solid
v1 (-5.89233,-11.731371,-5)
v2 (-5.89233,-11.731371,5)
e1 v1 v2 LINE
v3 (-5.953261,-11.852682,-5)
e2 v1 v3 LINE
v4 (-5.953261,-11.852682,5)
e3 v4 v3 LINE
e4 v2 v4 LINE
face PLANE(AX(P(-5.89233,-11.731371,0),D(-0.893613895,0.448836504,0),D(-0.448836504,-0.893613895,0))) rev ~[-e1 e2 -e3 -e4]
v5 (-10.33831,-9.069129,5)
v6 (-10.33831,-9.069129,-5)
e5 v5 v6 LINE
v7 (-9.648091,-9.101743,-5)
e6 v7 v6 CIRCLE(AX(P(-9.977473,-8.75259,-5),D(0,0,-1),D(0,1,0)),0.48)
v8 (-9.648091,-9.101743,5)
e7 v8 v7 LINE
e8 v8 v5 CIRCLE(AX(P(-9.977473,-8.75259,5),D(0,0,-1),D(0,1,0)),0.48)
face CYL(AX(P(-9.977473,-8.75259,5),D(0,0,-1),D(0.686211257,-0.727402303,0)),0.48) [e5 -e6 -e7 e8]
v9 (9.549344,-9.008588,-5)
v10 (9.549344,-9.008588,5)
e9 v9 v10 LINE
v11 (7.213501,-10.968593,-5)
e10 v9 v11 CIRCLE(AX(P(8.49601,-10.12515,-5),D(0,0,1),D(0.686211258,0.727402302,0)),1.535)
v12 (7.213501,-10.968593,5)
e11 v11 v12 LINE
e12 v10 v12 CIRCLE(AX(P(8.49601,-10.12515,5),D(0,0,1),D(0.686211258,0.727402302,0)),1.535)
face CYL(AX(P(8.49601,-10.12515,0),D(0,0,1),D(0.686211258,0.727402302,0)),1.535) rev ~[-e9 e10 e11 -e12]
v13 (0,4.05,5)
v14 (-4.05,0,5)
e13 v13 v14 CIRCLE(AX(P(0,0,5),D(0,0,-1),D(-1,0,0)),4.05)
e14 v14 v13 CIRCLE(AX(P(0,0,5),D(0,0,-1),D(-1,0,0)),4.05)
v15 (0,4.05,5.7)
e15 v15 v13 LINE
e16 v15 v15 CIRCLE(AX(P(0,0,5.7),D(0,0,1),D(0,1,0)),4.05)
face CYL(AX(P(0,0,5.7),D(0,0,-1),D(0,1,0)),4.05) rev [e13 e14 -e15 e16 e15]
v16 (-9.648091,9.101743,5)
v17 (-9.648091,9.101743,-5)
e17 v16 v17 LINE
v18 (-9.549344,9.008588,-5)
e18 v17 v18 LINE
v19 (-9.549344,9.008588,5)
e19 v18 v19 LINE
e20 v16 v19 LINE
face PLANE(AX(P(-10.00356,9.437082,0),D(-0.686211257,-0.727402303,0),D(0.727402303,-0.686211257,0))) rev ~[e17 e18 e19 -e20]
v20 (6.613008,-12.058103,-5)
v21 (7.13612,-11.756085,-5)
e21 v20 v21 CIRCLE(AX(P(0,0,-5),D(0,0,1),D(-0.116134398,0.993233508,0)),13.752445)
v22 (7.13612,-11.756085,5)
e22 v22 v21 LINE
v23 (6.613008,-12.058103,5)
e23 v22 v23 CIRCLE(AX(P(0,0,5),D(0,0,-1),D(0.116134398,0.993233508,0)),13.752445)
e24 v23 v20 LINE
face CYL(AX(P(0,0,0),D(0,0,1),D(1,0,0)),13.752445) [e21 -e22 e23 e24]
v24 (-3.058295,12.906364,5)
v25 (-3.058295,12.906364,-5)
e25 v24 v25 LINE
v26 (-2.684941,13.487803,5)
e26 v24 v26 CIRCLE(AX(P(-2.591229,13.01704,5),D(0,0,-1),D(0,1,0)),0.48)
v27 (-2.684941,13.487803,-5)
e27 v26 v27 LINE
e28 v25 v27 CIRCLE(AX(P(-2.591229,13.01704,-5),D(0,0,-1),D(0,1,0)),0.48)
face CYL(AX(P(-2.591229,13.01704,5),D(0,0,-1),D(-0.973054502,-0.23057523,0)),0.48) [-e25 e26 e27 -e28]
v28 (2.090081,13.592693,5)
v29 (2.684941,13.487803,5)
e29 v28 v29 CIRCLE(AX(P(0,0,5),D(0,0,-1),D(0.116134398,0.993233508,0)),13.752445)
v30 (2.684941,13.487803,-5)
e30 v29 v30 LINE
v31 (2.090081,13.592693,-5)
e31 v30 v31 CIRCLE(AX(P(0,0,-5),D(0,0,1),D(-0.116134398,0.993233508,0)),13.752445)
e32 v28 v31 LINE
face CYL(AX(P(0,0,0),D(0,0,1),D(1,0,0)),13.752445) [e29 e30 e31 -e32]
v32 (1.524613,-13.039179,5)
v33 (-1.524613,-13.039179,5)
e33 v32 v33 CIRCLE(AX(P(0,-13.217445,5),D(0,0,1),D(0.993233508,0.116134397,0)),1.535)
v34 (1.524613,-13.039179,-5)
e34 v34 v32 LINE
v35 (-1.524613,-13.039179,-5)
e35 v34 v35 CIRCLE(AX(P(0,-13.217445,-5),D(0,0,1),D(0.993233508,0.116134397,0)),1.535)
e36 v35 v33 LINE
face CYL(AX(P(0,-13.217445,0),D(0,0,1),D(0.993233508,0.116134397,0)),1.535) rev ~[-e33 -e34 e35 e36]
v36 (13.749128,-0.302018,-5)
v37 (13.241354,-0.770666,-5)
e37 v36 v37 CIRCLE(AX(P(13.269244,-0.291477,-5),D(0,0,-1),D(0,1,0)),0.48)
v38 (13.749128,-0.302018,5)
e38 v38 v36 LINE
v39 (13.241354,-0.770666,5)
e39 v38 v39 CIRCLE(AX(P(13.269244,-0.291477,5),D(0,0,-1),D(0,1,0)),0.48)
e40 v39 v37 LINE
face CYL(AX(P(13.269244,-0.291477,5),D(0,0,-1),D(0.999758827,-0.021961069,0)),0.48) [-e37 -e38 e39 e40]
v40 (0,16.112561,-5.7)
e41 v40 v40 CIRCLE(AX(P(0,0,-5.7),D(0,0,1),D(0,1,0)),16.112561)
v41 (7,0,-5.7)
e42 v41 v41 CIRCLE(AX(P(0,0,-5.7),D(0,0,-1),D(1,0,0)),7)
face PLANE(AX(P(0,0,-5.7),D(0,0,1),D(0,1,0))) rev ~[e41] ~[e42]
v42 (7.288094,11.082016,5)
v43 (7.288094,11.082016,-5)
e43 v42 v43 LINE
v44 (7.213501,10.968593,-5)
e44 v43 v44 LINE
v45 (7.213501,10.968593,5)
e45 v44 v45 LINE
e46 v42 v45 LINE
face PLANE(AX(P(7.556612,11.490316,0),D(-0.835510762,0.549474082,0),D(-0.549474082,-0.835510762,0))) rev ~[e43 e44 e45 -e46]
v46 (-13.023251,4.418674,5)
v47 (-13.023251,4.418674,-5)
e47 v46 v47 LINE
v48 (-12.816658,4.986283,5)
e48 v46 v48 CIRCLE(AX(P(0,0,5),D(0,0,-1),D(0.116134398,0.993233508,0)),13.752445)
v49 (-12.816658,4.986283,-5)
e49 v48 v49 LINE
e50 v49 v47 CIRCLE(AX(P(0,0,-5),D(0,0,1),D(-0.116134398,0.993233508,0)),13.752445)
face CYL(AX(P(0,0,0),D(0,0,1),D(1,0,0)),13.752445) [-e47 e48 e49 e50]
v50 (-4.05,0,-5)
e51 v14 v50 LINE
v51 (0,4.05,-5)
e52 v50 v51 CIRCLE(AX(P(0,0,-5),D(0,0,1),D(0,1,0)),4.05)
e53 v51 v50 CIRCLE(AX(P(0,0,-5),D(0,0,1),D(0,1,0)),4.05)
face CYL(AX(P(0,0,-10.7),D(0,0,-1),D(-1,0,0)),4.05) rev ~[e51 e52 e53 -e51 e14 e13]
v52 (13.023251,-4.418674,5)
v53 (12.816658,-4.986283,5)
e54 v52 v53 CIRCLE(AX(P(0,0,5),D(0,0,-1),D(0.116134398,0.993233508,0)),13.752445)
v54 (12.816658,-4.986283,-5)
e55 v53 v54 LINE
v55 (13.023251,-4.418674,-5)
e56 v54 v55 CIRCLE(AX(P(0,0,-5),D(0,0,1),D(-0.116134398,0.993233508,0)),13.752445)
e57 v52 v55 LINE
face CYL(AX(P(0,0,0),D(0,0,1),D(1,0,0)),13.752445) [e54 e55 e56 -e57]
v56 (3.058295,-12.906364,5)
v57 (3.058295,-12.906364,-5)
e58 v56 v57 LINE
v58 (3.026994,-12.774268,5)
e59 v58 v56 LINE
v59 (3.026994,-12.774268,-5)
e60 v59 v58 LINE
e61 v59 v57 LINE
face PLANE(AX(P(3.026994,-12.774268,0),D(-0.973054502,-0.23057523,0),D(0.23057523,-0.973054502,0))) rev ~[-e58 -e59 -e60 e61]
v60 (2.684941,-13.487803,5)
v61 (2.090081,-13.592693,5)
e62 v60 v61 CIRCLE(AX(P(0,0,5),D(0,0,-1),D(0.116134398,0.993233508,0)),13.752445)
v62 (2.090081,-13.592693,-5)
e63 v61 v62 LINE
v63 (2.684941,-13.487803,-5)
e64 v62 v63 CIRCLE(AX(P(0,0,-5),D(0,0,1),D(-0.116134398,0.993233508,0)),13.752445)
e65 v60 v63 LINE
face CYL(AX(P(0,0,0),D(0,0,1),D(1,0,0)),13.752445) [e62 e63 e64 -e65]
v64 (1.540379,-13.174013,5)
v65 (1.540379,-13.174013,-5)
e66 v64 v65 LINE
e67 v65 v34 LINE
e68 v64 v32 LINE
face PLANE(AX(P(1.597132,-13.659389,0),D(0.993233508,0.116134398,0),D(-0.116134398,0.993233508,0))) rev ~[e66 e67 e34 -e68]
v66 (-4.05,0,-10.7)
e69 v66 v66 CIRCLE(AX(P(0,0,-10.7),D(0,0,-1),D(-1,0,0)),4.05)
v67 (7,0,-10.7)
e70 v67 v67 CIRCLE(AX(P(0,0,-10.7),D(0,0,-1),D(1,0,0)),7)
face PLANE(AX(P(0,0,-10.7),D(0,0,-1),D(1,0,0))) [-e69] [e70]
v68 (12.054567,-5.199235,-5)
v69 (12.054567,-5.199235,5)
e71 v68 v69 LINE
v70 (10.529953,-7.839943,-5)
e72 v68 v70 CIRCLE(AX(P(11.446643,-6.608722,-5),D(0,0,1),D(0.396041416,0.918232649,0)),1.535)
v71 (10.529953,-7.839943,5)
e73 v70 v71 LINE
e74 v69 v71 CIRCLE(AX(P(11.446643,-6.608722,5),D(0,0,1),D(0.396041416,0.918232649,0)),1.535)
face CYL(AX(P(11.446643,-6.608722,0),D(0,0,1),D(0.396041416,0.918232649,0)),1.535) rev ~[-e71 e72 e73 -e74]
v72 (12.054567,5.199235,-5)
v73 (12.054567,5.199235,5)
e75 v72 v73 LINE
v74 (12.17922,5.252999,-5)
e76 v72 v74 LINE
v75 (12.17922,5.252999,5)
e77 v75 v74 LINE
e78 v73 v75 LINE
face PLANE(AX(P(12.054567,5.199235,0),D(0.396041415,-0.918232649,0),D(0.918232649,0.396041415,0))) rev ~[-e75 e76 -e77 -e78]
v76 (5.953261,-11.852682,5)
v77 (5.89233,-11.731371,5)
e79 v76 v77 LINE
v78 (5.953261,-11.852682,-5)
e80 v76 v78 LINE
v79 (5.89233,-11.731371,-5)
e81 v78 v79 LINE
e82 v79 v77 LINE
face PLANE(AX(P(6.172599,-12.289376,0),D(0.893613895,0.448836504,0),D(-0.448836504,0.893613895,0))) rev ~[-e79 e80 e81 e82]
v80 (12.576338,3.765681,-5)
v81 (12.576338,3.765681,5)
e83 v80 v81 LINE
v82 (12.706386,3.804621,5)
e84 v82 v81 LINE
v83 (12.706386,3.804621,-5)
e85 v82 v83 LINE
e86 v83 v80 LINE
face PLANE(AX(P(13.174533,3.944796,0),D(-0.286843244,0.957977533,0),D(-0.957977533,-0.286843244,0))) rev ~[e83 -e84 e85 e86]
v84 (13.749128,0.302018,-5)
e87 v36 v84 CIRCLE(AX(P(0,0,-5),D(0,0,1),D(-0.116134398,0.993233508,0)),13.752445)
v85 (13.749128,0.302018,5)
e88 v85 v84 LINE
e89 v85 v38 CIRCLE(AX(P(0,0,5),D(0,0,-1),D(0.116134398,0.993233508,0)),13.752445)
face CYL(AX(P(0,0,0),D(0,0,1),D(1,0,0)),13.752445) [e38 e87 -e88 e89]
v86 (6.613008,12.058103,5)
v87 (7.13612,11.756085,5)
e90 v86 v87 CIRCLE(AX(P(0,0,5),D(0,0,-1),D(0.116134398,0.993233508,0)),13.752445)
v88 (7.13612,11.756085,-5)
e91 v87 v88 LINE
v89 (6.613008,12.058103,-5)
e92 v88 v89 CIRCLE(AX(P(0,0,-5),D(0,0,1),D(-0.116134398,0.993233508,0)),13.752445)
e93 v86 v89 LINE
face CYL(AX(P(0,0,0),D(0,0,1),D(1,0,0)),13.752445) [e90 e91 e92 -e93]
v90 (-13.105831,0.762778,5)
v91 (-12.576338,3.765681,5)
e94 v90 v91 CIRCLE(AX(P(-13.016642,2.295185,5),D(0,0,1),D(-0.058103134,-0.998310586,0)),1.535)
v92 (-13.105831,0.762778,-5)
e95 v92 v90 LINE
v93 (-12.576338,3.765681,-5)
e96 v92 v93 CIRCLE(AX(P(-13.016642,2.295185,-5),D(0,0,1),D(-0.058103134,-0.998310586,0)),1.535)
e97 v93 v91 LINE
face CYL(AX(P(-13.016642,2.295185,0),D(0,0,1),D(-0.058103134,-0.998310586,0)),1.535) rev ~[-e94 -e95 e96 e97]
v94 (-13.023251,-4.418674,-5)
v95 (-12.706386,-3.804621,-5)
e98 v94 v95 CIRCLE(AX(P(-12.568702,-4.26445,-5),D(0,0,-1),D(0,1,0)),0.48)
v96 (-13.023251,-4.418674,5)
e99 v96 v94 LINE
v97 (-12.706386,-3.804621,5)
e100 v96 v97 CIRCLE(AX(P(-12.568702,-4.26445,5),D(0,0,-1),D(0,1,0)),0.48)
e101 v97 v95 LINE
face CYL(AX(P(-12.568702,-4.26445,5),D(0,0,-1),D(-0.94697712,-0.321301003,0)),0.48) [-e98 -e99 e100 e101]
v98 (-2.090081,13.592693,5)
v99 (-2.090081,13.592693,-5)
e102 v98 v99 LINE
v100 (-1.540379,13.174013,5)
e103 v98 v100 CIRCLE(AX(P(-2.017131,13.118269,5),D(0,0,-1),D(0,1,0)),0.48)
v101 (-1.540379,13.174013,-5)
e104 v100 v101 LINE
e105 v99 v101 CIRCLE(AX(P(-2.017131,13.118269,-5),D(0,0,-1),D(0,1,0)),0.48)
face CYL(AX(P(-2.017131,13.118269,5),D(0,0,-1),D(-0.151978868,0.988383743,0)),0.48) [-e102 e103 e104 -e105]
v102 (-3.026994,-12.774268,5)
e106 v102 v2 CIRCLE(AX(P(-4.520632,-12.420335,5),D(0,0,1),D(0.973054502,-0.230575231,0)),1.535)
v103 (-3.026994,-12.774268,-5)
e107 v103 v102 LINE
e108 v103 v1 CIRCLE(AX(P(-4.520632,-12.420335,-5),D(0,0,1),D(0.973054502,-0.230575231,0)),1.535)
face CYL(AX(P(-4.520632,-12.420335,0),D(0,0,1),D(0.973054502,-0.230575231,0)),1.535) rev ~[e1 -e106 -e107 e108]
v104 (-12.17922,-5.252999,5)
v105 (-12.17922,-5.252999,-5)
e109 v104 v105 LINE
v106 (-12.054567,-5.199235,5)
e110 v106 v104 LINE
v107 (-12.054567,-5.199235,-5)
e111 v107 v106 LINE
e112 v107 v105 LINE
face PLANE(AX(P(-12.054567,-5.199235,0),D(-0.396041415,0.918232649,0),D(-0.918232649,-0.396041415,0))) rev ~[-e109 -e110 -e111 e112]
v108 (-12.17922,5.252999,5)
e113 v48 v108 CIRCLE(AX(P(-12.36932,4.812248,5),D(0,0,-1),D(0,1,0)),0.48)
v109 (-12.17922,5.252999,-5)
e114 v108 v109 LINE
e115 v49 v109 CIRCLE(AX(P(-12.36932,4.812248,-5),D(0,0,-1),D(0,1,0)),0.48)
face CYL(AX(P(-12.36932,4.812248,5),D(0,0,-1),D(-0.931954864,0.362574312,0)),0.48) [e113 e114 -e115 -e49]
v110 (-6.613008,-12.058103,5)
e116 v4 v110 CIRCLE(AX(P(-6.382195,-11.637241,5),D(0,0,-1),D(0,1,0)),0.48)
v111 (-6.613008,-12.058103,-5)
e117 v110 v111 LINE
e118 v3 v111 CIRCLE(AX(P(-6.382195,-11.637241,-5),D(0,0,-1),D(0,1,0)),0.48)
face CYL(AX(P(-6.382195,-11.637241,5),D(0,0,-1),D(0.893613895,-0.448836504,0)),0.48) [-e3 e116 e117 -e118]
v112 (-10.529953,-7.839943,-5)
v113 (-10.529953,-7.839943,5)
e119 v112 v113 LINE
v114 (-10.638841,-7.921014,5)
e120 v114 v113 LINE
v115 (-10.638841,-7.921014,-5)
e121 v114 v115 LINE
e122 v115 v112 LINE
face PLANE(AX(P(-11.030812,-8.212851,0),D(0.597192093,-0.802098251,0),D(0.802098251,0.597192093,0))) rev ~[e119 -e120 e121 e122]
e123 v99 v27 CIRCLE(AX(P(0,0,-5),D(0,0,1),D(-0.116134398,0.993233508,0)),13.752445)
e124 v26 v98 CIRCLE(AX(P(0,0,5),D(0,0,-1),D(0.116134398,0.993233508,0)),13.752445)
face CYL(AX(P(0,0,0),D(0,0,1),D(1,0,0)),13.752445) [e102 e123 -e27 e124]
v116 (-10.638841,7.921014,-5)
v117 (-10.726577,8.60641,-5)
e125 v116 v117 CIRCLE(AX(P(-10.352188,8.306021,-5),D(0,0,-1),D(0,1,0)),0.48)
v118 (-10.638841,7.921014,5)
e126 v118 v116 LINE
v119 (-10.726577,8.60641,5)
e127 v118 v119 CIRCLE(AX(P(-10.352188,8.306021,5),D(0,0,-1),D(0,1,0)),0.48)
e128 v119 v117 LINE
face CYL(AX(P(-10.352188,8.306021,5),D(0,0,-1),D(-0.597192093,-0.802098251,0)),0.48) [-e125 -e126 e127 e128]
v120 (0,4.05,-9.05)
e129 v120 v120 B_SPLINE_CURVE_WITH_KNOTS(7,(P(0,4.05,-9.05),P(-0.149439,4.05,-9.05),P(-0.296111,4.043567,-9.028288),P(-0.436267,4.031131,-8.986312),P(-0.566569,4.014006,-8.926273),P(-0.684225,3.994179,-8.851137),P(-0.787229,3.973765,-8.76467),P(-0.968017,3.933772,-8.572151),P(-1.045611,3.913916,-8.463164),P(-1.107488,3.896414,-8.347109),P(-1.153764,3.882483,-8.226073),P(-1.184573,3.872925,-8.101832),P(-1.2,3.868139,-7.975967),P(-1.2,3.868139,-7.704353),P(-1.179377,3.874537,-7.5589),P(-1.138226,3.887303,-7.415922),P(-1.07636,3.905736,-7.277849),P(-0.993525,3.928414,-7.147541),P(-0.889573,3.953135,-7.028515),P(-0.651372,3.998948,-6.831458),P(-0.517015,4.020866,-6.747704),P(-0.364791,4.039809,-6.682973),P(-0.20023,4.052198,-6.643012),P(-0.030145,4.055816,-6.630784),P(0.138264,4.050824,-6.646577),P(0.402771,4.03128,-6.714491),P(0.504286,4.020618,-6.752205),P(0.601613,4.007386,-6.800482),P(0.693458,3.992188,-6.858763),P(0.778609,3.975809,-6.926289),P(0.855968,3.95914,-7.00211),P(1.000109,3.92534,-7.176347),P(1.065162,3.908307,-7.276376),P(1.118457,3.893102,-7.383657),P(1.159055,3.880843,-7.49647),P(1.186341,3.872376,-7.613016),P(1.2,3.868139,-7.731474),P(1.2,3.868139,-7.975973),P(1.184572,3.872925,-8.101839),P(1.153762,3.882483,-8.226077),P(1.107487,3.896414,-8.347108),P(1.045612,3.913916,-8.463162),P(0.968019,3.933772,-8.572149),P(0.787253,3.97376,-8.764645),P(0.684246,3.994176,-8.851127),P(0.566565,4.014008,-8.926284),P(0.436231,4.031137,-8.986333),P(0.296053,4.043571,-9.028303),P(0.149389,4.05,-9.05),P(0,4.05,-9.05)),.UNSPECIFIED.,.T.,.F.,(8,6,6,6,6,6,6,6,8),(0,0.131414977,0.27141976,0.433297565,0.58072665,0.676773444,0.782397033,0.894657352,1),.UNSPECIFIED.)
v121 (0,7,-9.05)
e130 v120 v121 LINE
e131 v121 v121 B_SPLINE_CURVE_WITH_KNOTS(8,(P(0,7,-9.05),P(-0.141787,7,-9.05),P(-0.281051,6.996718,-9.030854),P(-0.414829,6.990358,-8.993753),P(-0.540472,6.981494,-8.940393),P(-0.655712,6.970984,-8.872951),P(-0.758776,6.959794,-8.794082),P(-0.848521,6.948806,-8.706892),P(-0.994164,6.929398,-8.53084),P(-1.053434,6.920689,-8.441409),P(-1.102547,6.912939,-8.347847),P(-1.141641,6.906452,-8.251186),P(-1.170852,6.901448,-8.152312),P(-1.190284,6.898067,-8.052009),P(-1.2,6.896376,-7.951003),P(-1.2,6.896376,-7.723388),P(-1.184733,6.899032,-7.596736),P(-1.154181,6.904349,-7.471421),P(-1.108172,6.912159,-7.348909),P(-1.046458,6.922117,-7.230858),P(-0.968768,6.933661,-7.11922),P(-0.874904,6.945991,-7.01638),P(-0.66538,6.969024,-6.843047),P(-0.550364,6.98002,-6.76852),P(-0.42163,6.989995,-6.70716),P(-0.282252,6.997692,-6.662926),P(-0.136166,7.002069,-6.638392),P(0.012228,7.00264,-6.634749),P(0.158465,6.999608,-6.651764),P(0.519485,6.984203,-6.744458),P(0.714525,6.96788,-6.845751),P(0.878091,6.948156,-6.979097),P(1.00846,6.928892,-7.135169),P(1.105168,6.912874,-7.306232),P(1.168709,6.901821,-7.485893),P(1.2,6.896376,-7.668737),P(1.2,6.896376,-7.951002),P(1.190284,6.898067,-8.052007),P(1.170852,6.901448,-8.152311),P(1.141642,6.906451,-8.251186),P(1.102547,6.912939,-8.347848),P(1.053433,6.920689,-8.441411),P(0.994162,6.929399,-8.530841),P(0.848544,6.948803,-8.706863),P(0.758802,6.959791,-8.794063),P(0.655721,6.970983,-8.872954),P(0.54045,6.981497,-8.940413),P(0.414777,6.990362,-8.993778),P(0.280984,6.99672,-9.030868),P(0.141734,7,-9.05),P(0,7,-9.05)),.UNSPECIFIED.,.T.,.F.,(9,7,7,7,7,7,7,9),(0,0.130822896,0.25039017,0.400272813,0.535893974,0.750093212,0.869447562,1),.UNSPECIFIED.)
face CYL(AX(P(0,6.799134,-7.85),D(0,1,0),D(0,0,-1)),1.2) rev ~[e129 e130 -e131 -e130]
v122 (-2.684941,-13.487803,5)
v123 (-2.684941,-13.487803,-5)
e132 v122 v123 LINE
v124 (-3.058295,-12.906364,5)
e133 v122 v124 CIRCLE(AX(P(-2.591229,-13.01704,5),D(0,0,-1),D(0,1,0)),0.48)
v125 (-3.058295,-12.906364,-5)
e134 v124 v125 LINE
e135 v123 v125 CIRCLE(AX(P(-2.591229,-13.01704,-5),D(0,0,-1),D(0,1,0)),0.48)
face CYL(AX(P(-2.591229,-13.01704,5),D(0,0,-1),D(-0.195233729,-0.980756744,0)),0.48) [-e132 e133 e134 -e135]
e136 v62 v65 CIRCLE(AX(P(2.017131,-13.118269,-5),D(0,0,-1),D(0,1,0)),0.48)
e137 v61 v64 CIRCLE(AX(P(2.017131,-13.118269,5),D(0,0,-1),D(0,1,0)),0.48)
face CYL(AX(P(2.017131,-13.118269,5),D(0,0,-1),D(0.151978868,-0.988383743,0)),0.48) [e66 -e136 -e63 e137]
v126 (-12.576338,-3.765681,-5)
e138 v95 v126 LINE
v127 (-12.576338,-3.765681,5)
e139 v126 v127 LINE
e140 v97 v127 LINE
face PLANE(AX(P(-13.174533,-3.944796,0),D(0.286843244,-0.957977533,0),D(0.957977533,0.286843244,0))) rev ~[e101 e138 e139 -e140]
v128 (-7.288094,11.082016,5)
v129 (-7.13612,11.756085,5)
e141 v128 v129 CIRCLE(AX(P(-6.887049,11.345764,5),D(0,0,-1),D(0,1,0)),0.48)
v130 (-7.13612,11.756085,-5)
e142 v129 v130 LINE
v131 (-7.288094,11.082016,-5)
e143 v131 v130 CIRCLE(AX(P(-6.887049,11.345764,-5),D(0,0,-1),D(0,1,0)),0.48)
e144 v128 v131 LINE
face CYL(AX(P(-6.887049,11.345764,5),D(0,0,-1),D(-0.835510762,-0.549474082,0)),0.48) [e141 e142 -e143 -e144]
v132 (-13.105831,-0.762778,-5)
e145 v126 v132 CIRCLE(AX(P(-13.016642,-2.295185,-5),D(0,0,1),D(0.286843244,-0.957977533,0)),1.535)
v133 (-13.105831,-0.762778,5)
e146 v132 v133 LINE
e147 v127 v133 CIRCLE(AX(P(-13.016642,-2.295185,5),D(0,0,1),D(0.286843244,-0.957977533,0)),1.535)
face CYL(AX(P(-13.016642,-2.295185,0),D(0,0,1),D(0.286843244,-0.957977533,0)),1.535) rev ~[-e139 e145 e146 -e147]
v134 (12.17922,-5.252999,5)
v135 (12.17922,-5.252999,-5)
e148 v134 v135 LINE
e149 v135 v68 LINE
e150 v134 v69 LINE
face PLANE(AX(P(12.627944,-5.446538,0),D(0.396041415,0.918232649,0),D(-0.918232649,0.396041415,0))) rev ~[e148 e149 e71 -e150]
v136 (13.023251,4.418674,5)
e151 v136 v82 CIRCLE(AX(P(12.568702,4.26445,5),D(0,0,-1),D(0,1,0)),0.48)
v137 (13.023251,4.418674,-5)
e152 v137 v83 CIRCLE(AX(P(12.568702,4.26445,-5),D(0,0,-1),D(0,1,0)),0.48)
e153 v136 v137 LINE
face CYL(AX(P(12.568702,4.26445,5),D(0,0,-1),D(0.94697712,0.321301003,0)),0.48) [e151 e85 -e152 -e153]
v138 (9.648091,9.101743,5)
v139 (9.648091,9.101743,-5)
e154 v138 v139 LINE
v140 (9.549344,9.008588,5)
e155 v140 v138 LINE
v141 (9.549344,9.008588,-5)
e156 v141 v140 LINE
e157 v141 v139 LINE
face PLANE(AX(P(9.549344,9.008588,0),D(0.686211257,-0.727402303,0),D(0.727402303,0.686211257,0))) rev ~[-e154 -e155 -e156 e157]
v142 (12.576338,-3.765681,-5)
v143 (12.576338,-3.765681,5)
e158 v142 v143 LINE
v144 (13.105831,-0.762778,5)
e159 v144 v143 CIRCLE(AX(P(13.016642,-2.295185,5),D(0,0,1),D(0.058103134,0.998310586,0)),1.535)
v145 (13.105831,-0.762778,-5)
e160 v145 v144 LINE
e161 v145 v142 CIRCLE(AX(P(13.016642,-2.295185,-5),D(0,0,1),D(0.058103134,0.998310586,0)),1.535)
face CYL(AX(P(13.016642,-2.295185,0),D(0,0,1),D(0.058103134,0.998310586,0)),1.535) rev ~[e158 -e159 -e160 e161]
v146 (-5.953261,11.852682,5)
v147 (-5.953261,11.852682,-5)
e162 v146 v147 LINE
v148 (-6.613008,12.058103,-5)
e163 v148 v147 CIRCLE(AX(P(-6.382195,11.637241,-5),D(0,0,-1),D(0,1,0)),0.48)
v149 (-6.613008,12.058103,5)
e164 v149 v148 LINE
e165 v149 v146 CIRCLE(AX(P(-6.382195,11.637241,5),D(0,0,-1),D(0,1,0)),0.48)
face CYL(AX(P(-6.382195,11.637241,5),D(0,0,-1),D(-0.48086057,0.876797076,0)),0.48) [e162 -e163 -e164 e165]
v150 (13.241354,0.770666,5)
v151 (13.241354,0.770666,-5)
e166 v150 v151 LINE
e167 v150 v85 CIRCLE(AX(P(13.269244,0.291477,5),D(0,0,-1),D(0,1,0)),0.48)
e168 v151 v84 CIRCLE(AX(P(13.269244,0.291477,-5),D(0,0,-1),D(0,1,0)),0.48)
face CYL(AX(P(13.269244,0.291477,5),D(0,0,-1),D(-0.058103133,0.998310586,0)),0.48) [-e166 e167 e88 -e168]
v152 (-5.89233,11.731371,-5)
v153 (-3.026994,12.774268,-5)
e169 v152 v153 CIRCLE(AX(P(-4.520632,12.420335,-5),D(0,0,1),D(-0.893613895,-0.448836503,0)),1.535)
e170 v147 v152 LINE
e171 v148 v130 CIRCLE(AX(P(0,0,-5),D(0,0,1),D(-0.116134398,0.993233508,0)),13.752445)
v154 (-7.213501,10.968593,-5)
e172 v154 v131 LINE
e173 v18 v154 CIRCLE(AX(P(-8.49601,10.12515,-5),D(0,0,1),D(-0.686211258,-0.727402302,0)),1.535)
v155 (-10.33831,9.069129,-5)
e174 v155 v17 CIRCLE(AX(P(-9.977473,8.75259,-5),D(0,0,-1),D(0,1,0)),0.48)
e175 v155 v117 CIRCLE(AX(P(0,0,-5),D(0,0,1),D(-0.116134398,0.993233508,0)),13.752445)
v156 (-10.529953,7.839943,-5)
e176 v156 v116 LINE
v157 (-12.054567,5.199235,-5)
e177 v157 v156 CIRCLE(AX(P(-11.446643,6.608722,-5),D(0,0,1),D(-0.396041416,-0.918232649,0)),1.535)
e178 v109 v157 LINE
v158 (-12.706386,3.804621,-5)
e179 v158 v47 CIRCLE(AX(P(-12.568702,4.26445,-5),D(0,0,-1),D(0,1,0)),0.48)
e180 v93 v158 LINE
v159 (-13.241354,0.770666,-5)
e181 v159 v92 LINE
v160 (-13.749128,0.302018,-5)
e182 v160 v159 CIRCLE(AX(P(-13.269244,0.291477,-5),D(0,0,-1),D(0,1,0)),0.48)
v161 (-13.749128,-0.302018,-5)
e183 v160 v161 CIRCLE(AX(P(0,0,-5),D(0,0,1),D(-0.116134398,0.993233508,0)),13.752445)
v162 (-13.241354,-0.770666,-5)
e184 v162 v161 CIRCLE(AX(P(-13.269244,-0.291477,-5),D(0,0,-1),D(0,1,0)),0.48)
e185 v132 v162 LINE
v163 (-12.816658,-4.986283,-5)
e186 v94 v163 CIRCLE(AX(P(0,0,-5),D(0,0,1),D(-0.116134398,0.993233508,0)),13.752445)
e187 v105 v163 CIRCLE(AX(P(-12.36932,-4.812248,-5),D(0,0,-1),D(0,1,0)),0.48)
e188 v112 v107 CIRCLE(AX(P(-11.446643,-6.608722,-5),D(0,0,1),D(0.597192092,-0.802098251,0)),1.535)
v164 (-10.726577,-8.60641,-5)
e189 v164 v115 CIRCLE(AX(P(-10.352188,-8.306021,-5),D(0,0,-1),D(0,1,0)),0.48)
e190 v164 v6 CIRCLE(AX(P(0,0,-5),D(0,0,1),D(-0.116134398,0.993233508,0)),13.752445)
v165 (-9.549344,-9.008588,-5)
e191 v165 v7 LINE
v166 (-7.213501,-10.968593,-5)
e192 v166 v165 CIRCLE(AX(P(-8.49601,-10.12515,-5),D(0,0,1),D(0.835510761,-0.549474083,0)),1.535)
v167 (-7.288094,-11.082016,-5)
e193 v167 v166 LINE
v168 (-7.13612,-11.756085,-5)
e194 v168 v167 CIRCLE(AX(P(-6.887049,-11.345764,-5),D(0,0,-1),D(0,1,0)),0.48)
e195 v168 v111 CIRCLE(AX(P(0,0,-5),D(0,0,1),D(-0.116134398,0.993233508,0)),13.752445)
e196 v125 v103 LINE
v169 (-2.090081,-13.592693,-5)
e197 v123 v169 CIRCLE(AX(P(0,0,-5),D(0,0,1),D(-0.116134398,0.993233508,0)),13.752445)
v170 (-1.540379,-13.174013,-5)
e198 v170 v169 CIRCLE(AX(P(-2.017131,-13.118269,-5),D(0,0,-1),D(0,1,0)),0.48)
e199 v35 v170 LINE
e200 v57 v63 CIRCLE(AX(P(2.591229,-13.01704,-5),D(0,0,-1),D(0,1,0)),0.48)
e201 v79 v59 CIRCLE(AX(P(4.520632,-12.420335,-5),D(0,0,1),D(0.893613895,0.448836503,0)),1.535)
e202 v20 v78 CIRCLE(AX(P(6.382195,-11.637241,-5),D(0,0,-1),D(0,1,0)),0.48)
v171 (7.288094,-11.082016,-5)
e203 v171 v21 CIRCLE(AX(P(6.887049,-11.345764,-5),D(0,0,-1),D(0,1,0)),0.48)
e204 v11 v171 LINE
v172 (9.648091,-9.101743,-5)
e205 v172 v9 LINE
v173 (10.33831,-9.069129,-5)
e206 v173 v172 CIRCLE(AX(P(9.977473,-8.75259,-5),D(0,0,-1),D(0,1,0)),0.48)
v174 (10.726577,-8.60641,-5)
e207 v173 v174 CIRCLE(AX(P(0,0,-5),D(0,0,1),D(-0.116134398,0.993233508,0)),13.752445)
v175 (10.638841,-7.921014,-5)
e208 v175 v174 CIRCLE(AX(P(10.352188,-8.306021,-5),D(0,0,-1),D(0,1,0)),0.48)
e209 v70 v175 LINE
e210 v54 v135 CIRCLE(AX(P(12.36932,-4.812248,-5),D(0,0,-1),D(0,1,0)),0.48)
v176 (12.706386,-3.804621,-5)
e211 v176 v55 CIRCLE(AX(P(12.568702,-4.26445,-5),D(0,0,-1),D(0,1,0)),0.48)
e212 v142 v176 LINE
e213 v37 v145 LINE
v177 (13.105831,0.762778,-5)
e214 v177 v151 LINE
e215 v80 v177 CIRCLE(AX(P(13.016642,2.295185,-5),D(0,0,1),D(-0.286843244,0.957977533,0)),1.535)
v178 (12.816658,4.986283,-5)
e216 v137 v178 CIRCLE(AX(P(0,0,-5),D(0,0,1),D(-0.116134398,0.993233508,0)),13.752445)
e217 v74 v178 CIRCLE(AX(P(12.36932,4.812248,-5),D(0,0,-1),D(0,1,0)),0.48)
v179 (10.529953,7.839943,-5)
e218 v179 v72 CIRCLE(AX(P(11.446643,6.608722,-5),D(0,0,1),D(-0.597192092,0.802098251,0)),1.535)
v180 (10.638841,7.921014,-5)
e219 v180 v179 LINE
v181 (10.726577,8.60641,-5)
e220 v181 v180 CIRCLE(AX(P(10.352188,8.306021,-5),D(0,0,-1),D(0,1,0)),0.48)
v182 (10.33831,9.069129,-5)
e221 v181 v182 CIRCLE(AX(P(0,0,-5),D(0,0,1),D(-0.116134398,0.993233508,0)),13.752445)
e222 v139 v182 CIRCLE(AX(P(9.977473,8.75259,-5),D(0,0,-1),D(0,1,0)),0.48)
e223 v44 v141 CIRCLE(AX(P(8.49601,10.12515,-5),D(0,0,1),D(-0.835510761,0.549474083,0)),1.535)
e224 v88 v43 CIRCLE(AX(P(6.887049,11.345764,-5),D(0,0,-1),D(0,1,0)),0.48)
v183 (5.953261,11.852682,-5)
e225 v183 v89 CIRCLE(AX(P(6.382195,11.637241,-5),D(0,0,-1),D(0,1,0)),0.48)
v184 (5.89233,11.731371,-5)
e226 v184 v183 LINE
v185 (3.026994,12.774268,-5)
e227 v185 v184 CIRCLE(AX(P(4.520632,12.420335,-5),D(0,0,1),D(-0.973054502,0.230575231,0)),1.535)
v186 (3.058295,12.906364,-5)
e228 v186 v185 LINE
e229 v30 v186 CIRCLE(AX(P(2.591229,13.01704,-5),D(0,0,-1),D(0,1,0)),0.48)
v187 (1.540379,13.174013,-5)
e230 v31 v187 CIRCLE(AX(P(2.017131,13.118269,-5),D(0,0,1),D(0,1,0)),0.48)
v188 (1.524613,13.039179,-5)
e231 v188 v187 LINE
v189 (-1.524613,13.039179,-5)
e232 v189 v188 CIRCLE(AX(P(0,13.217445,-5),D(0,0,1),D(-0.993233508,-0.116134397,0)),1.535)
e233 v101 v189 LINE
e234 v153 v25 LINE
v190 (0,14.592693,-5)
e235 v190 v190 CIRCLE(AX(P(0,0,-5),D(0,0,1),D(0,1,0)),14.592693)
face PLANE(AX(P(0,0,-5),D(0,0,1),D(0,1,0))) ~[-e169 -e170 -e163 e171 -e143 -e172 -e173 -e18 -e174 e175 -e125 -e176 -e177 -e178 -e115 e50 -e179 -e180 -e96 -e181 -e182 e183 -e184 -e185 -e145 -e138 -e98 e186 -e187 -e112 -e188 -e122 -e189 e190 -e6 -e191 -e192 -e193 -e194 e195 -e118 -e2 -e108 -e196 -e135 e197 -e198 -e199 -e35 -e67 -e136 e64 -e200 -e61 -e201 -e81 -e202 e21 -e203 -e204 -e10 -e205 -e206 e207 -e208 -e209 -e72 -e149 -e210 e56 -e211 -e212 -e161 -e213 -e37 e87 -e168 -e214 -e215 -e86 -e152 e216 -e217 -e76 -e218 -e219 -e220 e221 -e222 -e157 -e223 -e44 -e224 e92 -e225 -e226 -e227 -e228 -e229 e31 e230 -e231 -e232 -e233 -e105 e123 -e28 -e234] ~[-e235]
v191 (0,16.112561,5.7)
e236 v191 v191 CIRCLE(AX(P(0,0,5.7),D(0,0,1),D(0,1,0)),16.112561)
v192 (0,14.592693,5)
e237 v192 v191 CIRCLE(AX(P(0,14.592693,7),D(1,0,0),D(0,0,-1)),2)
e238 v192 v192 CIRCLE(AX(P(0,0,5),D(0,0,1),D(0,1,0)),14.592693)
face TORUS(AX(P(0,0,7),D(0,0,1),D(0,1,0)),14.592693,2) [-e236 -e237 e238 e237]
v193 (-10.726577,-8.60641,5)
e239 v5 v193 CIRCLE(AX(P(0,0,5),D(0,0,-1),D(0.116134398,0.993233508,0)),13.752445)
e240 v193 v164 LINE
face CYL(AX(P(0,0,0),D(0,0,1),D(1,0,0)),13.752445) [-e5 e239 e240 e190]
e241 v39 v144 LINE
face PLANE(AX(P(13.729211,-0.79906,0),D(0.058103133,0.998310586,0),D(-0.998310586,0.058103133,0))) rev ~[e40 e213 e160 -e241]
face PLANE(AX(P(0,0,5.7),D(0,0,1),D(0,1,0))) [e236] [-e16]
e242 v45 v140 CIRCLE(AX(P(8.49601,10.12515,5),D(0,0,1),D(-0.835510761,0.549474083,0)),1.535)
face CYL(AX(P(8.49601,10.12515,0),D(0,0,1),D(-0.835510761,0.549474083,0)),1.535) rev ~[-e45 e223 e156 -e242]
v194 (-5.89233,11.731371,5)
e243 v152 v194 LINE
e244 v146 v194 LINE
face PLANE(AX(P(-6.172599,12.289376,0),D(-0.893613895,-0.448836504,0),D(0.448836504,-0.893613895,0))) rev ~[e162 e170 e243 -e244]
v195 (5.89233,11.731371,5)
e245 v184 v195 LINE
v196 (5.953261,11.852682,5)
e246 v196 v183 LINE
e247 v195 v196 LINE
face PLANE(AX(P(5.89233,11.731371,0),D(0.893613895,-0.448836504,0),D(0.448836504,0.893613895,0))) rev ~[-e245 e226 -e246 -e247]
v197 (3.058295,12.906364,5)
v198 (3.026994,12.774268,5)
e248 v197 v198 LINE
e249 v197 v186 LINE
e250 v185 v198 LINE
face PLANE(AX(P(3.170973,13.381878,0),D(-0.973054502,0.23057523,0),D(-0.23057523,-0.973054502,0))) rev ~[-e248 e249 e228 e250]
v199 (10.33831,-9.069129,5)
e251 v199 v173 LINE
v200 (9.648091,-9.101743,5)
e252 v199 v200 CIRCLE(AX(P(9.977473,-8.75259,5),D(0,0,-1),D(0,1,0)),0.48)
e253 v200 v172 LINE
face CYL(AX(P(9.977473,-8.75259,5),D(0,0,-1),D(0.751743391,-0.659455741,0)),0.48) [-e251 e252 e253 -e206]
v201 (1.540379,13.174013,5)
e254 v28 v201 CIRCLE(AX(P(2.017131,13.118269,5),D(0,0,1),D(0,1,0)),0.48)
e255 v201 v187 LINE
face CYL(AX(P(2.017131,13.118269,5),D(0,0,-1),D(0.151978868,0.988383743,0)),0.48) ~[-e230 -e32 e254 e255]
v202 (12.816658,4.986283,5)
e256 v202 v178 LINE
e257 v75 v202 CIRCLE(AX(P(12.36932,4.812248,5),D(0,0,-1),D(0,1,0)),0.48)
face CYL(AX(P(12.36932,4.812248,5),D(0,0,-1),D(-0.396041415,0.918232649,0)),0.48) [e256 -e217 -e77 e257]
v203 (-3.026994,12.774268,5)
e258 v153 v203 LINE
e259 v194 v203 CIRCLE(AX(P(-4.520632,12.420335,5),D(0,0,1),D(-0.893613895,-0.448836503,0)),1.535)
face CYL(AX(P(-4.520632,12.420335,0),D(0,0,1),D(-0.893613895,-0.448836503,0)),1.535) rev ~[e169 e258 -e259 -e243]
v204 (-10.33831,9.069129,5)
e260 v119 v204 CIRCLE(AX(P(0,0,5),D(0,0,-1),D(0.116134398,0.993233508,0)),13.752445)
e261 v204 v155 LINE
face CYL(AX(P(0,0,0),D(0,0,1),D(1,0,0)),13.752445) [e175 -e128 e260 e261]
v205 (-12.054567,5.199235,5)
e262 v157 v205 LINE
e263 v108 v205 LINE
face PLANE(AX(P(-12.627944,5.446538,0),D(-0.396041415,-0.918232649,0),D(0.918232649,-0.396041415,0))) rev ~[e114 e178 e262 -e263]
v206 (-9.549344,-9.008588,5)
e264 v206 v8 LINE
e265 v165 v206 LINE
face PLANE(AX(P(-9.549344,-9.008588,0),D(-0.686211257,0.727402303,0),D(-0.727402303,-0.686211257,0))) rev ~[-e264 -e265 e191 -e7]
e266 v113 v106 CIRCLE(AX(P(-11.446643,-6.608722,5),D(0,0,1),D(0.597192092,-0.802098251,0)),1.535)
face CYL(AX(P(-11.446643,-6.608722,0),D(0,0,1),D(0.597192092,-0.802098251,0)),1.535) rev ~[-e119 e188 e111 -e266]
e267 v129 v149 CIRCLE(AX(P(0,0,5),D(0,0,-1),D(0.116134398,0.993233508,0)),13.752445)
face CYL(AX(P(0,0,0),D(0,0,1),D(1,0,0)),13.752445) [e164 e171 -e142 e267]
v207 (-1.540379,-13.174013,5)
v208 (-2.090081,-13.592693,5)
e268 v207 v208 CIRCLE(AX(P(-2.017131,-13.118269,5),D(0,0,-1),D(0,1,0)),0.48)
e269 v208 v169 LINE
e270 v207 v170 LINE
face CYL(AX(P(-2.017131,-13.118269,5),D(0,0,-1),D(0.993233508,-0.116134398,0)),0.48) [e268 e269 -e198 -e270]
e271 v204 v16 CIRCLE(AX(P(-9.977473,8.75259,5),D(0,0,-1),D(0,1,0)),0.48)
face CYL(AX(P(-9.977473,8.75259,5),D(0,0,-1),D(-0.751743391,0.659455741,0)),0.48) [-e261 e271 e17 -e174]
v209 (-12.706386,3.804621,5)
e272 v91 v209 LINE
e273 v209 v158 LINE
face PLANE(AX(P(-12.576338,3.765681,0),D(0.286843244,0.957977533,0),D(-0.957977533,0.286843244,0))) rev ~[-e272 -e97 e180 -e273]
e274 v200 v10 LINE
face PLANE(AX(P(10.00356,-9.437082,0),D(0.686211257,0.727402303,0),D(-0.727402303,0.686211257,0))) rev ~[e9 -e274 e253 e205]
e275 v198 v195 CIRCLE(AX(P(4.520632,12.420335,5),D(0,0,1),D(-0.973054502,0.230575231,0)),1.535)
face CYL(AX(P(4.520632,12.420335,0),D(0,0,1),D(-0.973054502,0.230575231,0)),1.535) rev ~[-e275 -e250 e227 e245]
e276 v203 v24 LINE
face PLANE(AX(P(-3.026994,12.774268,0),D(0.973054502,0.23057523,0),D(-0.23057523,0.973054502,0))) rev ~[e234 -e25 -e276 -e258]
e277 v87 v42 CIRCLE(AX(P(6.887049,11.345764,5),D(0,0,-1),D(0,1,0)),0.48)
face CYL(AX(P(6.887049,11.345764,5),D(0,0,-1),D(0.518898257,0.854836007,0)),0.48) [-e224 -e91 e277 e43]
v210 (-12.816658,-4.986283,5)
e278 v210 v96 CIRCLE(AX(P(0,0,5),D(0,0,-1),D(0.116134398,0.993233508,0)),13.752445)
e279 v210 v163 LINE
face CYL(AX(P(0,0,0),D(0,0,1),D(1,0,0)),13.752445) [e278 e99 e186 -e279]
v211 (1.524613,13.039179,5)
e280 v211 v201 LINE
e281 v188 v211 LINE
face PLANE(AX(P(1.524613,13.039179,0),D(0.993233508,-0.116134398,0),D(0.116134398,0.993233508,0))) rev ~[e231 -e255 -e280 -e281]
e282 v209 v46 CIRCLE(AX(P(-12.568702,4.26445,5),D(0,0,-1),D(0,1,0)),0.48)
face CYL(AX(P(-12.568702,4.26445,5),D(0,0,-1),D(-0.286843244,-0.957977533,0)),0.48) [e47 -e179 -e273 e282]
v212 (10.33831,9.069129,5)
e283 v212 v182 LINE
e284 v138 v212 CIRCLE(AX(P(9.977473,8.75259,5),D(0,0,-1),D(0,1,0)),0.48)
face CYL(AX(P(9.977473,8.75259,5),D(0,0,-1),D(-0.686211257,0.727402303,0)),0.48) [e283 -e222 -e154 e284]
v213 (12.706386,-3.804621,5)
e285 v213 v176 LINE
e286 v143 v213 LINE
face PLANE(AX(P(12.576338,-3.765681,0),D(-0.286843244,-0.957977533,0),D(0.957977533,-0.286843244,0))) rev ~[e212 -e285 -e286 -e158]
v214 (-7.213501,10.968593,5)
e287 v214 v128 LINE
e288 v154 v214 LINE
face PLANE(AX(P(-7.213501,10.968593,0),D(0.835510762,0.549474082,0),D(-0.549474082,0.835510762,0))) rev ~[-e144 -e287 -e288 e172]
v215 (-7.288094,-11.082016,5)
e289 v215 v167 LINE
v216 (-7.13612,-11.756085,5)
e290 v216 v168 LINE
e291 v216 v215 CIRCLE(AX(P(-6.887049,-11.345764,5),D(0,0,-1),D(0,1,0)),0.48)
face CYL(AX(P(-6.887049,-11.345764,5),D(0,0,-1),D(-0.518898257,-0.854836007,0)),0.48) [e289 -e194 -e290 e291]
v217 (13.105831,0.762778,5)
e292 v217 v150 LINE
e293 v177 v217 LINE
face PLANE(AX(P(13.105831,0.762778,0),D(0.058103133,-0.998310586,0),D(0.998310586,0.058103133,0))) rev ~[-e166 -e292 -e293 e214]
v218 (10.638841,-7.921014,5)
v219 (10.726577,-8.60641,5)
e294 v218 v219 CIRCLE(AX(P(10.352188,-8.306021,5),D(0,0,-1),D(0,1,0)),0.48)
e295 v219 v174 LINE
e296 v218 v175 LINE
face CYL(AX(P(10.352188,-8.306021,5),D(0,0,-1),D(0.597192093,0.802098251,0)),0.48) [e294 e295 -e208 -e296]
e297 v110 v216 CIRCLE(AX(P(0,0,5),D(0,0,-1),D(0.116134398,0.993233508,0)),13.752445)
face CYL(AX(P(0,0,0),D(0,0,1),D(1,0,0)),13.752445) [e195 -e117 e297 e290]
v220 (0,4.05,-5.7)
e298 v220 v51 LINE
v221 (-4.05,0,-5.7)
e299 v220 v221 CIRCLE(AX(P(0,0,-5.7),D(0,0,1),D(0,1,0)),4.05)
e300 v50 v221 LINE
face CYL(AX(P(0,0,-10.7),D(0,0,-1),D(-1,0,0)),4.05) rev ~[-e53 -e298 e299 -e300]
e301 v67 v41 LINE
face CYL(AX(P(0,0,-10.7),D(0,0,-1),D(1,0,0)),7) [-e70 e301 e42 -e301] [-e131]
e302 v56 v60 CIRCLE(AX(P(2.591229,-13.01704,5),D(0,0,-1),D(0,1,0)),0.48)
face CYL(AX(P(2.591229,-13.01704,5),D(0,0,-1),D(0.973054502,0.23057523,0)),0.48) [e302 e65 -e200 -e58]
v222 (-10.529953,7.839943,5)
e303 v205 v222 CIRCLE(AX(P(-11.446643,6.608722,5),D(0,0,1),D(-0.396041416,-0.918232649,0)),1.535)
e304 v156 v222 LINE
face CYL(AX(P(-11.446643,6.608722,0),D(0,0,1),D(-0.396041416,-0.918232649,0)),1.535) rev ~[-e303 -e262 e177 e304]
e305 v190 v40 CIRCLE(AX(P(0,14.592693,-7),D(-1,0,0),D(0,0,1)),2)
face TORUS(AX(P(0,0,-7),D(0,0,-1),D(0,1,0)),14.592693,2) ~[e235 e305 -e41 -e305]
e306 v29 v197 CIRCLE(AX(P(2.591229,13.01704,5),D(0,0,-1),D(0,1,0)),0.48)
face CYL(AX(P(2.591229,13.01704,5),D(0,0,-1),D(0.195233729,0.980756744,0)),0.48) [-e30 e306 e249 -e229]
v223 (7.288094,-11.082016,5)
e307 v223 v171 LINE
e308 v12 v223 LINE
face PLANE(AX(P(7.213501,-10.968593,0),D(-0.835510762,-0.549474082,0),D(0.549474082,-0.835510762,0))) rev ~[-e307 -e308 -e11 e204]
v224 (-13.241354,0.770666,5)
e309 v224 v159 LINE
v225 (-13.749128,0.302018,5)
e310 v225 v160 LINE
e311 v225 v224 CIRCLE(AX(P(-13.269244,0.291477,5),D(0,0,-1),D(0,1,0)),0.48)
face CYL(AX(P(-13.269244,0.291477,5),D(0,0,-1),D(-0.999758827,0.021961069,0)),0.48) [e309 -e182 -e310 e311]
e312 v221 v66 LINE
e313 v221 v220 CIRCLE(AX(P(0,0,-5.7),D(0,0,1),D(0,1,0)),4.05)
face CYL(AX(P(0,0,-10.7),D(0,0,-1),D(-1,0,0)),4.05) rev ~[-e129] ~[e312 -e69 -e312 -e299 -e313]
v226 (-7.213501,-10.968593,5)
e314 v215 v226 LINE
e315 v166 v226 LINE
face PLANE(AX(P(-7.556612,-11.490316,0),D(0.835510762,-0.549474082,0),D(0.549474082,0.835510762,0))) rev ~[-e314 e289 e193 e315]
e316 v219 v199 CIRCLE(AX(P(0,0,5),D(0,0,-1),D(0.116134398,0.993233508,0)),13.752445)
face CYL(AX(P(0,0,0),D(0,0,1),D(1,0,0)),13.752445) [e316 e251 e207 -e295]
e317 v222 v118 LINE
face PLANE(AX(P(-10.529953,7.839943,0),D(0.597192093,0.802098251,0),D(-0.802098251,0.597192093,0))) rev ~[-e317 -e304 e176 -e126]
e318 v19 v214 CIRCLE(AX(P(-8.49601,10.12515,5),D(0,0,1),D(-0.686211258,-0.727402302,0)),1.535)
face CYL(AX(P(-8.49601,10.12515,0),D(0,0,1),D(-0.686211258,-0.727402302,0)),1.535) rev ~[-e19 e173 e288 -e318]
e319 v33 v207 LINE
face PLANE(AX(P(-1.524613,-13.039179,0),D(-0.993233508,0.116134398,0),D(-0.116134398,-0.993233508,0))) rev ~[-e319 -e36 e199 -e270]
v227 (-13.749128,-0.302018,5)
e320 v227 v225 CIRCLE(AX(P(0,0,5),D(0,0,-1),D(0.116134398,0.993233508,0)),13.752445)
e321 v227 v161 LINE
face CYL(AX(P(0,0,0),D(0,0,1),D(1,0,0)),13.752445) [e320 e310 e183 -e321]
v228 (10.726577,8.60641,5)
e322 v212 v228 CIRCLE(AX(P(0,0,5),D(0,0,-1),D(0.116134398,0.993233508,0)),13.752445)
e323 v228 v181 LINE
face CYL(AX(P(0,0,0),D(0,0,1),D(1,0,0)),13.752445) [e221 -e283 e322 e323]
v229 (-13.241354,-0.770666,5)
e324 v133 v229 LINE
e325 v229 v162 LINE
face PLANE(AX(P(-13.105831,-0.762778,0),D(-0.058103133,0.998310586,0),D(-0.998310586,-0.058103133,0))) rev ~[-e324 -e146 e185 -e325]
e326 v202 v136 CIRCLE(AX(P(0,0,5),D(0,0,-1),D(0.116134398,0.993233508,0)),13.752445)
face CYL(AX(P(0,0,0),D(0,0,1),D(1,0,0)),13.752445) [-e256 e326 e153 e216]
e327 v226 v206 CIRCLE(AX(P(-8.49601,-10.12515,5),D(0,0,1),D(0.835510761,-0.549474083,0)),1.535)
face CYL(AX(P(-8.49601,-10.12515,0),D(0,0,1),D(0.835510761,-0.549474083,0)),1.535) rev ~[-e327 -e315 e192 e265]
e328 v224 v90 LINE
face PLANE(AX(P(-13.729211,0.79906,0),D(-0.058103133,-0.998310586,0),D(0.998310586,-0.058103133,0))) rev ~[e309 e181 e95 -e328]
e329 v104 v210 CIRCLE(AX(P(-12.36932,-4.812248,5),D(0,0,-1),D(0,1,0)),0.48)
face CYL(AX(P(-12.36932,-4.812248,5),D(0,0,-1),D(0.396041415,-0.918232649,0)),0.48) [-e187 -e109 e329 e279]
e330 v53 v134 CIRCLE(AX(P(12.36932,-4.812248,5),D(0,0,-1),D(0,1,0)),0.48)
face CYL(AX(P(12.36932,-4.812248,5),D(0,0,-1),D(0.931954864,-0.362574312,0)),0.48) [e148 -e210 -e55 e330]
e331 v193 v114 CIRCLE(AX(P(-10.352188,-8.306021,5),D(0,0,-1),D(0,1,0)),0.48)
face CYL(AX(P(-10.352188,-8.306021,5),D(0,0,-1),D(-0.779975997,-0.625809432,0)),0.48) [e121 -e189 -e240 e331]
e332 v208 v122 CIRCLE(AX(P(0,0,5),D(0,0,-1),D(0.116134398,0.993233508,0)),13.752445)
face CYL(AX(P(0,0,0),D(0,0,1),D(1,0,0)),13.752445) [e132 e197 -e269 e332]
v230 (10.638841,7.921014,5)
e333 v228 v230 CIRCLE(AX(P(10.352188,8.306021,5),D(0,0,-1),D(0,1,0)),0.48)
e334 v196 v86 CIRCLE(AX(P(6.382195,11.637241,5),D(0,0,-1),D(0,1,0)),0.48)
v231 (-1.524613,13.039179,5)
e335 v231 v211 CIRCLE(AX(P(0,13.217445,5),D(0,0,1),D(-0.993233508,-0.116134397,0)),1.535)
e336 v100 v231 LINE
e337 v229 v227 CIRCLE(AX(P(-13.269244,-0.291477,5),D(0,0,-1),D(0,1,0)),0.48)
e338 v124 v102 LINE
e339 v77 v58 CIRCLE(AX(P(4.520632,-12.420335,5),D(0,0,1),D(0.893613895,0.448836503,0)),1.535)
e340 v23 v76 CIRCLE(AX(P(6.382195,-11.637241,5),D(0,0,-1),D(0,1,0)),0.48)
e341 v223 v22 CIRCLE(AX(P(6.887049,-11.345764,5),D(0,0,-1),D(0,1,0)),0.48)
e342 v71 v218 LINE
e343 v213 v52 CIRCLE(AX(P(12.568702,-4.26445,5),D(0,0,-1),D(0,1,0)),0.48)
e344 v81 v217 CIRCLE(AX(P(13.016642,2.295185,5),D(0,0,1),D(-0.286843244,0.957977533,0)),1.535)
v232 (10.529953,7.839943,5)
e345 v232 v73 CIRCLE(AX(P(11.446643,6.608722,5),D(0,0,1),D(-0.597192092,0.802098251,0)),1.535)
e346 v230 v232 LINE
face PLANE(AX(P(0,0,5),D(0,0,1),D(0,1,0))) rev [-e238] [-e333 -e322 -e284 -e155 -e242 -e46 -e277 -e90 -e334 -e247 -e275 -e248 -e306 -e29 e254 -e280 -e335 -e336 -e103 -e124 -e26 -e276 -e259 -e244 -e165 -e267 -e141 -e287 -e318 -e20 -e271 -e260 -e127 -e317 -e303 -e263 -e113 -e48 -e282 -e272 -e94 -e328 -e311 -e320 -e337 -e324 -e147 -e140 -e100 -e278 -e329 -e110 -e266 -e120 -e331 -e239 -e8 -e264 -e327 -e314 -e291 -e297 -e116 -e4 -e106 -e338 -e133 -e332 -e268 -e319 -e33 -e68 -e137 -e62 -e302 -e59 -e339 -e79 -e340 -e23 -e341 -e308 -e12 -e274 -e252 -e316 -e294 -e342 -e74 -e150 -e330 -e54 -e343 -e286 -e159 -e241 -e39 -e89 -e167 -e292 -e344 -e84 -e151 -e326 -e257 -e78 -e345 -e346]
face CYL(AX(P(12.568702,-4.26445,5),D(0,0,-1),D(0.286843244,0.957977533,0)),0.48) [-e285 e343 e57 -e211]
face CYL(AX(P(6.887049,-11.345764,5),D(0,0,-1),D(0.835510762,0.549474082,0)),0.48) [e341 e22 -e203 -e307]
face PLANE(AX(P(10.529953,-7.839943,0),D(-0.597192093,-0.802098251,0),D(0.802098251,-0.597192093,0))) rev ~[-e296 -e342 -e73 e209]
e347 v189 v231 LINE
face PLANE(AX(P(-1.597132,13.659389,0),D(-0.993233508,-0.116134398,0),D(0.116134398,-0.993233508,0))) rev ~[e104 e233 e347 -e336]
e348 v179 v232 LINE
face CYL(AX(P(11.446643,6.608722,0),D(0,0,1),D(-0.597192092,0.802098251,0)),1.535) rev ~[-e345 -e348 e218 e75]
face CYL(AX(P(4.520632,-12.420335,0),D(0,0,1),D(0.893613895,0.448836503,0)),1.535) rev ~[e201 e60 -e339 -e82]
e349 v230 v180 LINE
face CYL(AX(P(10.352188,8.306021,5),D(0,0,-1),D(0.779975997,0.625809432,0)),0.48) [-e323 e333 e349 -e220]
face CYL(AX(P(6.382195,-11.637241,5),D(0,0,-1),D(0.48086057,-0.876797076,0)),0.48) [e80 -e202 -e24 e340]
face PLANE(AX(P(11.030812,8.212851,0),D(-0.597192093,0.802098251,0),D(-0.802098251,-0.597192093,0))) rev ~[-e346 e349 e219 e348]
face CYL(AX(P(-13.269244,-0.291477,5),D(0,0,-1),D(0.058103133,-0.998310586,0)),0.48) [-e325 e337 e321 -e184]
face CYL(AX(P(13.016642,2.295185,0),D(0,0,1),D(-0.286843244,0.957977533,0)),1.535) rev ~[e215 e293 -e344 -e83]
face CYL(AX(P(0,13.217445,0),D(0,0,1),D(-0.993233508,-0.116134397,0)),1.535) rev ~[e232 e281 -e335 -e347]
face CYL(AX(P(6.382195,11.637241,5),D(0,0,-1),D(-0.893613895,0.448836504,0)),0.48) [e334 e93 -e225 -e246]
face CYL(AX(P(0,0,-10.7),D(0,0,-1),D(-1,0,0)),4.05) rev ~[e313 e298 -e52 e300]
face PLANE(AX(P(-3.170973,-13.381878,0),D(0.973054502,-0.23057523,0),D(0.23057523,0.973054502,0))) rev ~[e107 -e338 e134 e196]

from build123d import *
from build123d.topology import SkipClean

# Parameters (mm, degrees)
SKETCH_3_R                       = 13.752444878
EXTRUDE_2_DEPTH                  = 5
CUT_EXTRUDE_2_DEPTH              = 21.081321676
FILLET_1_R                       = 0.48
PATTERN_CIRCULAR_1_COUNT         = 18
FILLET_1_OF_PATTERN_CIRCULAR_1_R = 0.48
SKETCH_4_R                       = 4.05
CUT_EXTRUDE_3_DEPTH              = 22.772520597
EXTRUDE_START                    = 5.7
SKETCH_5_R                       = 7
SKETCH_5_R_2                     = 4.05
EXTRUDE_3_DEPTH                  = 5.7
SKETCH_8_W                       = 1.2
SKETCH_8_H                       = 13.59826875


with BuildPart() as part:
    # 스케치3 → 보스-돌출2 (new, symmetric)
    with BuildSketch(Plane.XY):
        Circle(SKETCH_3_R)
    extrude(amount=EXTRUDE_2_DEPTH, both=True)

    # 스케치3<3> → 컷-돌출2 (cut, symmetric)
    with BuildSketch(Plane.XY):
        with BuildLine():
            Line((-1.597131903, 13.659389072), (-1.524613435, 13.039178578))
            ThreePointArc((-1.524613435, 13.039178578), (0, 11.682444878), (1.524613435, 13.039178578))
            Line((1.524613435, 13.039178578), (1.597131903, 13.659389072))
            ThreePointArc((1.597131903, 13.659389072), (0, 13.752444878), (-1.597131903, 13.659389072))
        make_face()
    cut_extrude_2 = extrude(amount=CUT_EXTRUDE_2_DEPTH, both=True, mode=Mode.SUBTRACT)

    # 필렛1
    fillet_1_edges = [part.edges().sort_by_distance(p)[0] for p in [
        (1.597131903, 13.659389072, 0),
        (-1.597131903, 13.659389072, 0),
    ]]
    fillet(fillet_1_edges, radius=FILLET_1_R)

    # 원형 패턴1: 컷-돌출2 ×18 about axis
    pattern_circular_1_axis = Axis((0, 0, 5), (0, 0, -1))
    for i in range(1, PATTERN_CIRCULAR_1_COUNT):
        add(cut_extrude_2.rotate(pattern_circular_1_axis, i * 360 / PATTERN_CIRCULAR_1_COUNT), mode=Mode.SUBTRACT)

    # 필렛1 of 원형 패턴1
    fillet_1_of_pattern_circular_1_edges = [part.edges().sort_by_distance(p)[0] for p in [
        (6.172599272, 12.289375833, 0),
        (3.170973145, 13.381878398, 0),
        (10.00356007, 9.437082497, 0),
        (7.556612032, 11.490315693, 0),
        (12.627943888, 5.446537735, 0),
        (11.030811985, 8.212851337, 0),
        (13.729211304, 0.79906014, 0),
        (13.174533215, 3.944795901, 0),
        (13.174533215, -3.944795901, 0),
        (13.729211304, -0.79906014, 0),
        (11.030811985, -8.212851337, 0),
        (12.627943888, -5.446537735, 0),
        (7.556612032, -11.490315693, 0),
        (10.00356007, -9.437082497, 0),
        (3.170973145, -13.381878398, 0),
        (6.172599272, -12.289375833, 0),
        (-1.597131903, -13.659389072, 0),
        (1.597131903, -13.659389072, 0),
        (-6.172599272, -12.289375833, 0),
        (-3.170973145, -13.381878398, 0),
        (-10.00356007, -9.437082497, 0),
        (-7.556612032, -11.490315693, 0),
        (-12.627943888, -5.446537735, 0),
        (-11.030811985, -8.212851337, 0),
        (-13.729211304, -0.79906014, 0),
        (-13.174533215, -3.944795901, 0),
        (-13.174533215, 3.944795901, 0),
        (-13.729211304, 0.79906014, 0),
        (-11.030811985, 8.212851337, 0),
        (-12.627943888, 5.446537735, 0),
        (-7.556612032, 11.490315693, 0),
        (-10.00356007, 9.437082497, 0),
        (-3.170973145, 13.381878398, 0),
        (-6.172599272, 12.289375833, 0),
    ]]
    fillet(fillet_1_of_pattern_circular_1_edges, radius=FILLET_1_OF_PATTERN_CIRCULAR_1_R)

    # 스케치4 → 컷-돌출3 (cut, through all)
    with BuildSketch(Plane(origin=(0, 0, -5), x_dir=(-1, 0, 0), z_dir=(0, 0, -1))):
        Circle(SKETCH_4_R)
    extrude(amount=-CUT_EXTRUDE_3_DEPTH, mode=Mode.SUBTRACT)

    # 스케치5 → 보스-돌출3 (add)
    with BuildSketch(Plane(origin=(0, 0, -5), x_dir=(-1, 0, 0), z_dir=(0, 0, -1)).offset(EXTRUDE_START)):
        Circle(SKETCH_5_R)
        Circle(SKETCH_5_R_2, mode=Mode.SUBTRACT)
    extrude(amount=-EXTRUDE_3_DEPTH)

    # 스케치8 → M3x0.5 탭을 위한 탭 드릴1 (revolve, cut)
    with BuildSketch(Plane(origin=(0, 0, -7.85), x_dir=(0, 0, -1), z_dir=(1, 0, 0))):
        with Locations((0.6, 6.799134375)):
            Rectangle(SKETCH_8_W, SKETCH_8_H)
    revolve(axis=Axis((0, -6.35, -7.85), (0, 1, 0)), mode=Mode.SUBTRACT)

    # 스케치9 → 회전1 (revolve)
    with SkipClean():  # the faces are left unmerged after this step: merging them gives an invalid solid
        with BuildSketch(Plane(origin=(0, 0, 0), x_dir=(0, 0, -1), z_dir=(1, 0, 0))):
            with BuildLine():
                Line((-5.7, 16.112561362), (-5.7, 4.05))
                Line((-5.7, 4.05), (-5, 4.05))
                Line((-5, 4.05), (-5, 14.592692947))
                ThreePointArc((-5, 14.592692947), (-5.183409788, 15.429352974), (-5.7, 16.112561362))
            make_face()
            with BuildLine():
                Line((5, 4.05), (5, 14.592692947))
                ThreePointArc((5, 14.592692947), (5.183409788, 15.429352974), (5.7, 16.112561362))
                Line((5.7, 16.112561362), (5.7, 4.05))
                Line((5.7, 4.05), (5, 4.05))
            make_face()
        revolve(axis=Axis((0, 0, 0), (0, 0, 1)))


solid = part.part
